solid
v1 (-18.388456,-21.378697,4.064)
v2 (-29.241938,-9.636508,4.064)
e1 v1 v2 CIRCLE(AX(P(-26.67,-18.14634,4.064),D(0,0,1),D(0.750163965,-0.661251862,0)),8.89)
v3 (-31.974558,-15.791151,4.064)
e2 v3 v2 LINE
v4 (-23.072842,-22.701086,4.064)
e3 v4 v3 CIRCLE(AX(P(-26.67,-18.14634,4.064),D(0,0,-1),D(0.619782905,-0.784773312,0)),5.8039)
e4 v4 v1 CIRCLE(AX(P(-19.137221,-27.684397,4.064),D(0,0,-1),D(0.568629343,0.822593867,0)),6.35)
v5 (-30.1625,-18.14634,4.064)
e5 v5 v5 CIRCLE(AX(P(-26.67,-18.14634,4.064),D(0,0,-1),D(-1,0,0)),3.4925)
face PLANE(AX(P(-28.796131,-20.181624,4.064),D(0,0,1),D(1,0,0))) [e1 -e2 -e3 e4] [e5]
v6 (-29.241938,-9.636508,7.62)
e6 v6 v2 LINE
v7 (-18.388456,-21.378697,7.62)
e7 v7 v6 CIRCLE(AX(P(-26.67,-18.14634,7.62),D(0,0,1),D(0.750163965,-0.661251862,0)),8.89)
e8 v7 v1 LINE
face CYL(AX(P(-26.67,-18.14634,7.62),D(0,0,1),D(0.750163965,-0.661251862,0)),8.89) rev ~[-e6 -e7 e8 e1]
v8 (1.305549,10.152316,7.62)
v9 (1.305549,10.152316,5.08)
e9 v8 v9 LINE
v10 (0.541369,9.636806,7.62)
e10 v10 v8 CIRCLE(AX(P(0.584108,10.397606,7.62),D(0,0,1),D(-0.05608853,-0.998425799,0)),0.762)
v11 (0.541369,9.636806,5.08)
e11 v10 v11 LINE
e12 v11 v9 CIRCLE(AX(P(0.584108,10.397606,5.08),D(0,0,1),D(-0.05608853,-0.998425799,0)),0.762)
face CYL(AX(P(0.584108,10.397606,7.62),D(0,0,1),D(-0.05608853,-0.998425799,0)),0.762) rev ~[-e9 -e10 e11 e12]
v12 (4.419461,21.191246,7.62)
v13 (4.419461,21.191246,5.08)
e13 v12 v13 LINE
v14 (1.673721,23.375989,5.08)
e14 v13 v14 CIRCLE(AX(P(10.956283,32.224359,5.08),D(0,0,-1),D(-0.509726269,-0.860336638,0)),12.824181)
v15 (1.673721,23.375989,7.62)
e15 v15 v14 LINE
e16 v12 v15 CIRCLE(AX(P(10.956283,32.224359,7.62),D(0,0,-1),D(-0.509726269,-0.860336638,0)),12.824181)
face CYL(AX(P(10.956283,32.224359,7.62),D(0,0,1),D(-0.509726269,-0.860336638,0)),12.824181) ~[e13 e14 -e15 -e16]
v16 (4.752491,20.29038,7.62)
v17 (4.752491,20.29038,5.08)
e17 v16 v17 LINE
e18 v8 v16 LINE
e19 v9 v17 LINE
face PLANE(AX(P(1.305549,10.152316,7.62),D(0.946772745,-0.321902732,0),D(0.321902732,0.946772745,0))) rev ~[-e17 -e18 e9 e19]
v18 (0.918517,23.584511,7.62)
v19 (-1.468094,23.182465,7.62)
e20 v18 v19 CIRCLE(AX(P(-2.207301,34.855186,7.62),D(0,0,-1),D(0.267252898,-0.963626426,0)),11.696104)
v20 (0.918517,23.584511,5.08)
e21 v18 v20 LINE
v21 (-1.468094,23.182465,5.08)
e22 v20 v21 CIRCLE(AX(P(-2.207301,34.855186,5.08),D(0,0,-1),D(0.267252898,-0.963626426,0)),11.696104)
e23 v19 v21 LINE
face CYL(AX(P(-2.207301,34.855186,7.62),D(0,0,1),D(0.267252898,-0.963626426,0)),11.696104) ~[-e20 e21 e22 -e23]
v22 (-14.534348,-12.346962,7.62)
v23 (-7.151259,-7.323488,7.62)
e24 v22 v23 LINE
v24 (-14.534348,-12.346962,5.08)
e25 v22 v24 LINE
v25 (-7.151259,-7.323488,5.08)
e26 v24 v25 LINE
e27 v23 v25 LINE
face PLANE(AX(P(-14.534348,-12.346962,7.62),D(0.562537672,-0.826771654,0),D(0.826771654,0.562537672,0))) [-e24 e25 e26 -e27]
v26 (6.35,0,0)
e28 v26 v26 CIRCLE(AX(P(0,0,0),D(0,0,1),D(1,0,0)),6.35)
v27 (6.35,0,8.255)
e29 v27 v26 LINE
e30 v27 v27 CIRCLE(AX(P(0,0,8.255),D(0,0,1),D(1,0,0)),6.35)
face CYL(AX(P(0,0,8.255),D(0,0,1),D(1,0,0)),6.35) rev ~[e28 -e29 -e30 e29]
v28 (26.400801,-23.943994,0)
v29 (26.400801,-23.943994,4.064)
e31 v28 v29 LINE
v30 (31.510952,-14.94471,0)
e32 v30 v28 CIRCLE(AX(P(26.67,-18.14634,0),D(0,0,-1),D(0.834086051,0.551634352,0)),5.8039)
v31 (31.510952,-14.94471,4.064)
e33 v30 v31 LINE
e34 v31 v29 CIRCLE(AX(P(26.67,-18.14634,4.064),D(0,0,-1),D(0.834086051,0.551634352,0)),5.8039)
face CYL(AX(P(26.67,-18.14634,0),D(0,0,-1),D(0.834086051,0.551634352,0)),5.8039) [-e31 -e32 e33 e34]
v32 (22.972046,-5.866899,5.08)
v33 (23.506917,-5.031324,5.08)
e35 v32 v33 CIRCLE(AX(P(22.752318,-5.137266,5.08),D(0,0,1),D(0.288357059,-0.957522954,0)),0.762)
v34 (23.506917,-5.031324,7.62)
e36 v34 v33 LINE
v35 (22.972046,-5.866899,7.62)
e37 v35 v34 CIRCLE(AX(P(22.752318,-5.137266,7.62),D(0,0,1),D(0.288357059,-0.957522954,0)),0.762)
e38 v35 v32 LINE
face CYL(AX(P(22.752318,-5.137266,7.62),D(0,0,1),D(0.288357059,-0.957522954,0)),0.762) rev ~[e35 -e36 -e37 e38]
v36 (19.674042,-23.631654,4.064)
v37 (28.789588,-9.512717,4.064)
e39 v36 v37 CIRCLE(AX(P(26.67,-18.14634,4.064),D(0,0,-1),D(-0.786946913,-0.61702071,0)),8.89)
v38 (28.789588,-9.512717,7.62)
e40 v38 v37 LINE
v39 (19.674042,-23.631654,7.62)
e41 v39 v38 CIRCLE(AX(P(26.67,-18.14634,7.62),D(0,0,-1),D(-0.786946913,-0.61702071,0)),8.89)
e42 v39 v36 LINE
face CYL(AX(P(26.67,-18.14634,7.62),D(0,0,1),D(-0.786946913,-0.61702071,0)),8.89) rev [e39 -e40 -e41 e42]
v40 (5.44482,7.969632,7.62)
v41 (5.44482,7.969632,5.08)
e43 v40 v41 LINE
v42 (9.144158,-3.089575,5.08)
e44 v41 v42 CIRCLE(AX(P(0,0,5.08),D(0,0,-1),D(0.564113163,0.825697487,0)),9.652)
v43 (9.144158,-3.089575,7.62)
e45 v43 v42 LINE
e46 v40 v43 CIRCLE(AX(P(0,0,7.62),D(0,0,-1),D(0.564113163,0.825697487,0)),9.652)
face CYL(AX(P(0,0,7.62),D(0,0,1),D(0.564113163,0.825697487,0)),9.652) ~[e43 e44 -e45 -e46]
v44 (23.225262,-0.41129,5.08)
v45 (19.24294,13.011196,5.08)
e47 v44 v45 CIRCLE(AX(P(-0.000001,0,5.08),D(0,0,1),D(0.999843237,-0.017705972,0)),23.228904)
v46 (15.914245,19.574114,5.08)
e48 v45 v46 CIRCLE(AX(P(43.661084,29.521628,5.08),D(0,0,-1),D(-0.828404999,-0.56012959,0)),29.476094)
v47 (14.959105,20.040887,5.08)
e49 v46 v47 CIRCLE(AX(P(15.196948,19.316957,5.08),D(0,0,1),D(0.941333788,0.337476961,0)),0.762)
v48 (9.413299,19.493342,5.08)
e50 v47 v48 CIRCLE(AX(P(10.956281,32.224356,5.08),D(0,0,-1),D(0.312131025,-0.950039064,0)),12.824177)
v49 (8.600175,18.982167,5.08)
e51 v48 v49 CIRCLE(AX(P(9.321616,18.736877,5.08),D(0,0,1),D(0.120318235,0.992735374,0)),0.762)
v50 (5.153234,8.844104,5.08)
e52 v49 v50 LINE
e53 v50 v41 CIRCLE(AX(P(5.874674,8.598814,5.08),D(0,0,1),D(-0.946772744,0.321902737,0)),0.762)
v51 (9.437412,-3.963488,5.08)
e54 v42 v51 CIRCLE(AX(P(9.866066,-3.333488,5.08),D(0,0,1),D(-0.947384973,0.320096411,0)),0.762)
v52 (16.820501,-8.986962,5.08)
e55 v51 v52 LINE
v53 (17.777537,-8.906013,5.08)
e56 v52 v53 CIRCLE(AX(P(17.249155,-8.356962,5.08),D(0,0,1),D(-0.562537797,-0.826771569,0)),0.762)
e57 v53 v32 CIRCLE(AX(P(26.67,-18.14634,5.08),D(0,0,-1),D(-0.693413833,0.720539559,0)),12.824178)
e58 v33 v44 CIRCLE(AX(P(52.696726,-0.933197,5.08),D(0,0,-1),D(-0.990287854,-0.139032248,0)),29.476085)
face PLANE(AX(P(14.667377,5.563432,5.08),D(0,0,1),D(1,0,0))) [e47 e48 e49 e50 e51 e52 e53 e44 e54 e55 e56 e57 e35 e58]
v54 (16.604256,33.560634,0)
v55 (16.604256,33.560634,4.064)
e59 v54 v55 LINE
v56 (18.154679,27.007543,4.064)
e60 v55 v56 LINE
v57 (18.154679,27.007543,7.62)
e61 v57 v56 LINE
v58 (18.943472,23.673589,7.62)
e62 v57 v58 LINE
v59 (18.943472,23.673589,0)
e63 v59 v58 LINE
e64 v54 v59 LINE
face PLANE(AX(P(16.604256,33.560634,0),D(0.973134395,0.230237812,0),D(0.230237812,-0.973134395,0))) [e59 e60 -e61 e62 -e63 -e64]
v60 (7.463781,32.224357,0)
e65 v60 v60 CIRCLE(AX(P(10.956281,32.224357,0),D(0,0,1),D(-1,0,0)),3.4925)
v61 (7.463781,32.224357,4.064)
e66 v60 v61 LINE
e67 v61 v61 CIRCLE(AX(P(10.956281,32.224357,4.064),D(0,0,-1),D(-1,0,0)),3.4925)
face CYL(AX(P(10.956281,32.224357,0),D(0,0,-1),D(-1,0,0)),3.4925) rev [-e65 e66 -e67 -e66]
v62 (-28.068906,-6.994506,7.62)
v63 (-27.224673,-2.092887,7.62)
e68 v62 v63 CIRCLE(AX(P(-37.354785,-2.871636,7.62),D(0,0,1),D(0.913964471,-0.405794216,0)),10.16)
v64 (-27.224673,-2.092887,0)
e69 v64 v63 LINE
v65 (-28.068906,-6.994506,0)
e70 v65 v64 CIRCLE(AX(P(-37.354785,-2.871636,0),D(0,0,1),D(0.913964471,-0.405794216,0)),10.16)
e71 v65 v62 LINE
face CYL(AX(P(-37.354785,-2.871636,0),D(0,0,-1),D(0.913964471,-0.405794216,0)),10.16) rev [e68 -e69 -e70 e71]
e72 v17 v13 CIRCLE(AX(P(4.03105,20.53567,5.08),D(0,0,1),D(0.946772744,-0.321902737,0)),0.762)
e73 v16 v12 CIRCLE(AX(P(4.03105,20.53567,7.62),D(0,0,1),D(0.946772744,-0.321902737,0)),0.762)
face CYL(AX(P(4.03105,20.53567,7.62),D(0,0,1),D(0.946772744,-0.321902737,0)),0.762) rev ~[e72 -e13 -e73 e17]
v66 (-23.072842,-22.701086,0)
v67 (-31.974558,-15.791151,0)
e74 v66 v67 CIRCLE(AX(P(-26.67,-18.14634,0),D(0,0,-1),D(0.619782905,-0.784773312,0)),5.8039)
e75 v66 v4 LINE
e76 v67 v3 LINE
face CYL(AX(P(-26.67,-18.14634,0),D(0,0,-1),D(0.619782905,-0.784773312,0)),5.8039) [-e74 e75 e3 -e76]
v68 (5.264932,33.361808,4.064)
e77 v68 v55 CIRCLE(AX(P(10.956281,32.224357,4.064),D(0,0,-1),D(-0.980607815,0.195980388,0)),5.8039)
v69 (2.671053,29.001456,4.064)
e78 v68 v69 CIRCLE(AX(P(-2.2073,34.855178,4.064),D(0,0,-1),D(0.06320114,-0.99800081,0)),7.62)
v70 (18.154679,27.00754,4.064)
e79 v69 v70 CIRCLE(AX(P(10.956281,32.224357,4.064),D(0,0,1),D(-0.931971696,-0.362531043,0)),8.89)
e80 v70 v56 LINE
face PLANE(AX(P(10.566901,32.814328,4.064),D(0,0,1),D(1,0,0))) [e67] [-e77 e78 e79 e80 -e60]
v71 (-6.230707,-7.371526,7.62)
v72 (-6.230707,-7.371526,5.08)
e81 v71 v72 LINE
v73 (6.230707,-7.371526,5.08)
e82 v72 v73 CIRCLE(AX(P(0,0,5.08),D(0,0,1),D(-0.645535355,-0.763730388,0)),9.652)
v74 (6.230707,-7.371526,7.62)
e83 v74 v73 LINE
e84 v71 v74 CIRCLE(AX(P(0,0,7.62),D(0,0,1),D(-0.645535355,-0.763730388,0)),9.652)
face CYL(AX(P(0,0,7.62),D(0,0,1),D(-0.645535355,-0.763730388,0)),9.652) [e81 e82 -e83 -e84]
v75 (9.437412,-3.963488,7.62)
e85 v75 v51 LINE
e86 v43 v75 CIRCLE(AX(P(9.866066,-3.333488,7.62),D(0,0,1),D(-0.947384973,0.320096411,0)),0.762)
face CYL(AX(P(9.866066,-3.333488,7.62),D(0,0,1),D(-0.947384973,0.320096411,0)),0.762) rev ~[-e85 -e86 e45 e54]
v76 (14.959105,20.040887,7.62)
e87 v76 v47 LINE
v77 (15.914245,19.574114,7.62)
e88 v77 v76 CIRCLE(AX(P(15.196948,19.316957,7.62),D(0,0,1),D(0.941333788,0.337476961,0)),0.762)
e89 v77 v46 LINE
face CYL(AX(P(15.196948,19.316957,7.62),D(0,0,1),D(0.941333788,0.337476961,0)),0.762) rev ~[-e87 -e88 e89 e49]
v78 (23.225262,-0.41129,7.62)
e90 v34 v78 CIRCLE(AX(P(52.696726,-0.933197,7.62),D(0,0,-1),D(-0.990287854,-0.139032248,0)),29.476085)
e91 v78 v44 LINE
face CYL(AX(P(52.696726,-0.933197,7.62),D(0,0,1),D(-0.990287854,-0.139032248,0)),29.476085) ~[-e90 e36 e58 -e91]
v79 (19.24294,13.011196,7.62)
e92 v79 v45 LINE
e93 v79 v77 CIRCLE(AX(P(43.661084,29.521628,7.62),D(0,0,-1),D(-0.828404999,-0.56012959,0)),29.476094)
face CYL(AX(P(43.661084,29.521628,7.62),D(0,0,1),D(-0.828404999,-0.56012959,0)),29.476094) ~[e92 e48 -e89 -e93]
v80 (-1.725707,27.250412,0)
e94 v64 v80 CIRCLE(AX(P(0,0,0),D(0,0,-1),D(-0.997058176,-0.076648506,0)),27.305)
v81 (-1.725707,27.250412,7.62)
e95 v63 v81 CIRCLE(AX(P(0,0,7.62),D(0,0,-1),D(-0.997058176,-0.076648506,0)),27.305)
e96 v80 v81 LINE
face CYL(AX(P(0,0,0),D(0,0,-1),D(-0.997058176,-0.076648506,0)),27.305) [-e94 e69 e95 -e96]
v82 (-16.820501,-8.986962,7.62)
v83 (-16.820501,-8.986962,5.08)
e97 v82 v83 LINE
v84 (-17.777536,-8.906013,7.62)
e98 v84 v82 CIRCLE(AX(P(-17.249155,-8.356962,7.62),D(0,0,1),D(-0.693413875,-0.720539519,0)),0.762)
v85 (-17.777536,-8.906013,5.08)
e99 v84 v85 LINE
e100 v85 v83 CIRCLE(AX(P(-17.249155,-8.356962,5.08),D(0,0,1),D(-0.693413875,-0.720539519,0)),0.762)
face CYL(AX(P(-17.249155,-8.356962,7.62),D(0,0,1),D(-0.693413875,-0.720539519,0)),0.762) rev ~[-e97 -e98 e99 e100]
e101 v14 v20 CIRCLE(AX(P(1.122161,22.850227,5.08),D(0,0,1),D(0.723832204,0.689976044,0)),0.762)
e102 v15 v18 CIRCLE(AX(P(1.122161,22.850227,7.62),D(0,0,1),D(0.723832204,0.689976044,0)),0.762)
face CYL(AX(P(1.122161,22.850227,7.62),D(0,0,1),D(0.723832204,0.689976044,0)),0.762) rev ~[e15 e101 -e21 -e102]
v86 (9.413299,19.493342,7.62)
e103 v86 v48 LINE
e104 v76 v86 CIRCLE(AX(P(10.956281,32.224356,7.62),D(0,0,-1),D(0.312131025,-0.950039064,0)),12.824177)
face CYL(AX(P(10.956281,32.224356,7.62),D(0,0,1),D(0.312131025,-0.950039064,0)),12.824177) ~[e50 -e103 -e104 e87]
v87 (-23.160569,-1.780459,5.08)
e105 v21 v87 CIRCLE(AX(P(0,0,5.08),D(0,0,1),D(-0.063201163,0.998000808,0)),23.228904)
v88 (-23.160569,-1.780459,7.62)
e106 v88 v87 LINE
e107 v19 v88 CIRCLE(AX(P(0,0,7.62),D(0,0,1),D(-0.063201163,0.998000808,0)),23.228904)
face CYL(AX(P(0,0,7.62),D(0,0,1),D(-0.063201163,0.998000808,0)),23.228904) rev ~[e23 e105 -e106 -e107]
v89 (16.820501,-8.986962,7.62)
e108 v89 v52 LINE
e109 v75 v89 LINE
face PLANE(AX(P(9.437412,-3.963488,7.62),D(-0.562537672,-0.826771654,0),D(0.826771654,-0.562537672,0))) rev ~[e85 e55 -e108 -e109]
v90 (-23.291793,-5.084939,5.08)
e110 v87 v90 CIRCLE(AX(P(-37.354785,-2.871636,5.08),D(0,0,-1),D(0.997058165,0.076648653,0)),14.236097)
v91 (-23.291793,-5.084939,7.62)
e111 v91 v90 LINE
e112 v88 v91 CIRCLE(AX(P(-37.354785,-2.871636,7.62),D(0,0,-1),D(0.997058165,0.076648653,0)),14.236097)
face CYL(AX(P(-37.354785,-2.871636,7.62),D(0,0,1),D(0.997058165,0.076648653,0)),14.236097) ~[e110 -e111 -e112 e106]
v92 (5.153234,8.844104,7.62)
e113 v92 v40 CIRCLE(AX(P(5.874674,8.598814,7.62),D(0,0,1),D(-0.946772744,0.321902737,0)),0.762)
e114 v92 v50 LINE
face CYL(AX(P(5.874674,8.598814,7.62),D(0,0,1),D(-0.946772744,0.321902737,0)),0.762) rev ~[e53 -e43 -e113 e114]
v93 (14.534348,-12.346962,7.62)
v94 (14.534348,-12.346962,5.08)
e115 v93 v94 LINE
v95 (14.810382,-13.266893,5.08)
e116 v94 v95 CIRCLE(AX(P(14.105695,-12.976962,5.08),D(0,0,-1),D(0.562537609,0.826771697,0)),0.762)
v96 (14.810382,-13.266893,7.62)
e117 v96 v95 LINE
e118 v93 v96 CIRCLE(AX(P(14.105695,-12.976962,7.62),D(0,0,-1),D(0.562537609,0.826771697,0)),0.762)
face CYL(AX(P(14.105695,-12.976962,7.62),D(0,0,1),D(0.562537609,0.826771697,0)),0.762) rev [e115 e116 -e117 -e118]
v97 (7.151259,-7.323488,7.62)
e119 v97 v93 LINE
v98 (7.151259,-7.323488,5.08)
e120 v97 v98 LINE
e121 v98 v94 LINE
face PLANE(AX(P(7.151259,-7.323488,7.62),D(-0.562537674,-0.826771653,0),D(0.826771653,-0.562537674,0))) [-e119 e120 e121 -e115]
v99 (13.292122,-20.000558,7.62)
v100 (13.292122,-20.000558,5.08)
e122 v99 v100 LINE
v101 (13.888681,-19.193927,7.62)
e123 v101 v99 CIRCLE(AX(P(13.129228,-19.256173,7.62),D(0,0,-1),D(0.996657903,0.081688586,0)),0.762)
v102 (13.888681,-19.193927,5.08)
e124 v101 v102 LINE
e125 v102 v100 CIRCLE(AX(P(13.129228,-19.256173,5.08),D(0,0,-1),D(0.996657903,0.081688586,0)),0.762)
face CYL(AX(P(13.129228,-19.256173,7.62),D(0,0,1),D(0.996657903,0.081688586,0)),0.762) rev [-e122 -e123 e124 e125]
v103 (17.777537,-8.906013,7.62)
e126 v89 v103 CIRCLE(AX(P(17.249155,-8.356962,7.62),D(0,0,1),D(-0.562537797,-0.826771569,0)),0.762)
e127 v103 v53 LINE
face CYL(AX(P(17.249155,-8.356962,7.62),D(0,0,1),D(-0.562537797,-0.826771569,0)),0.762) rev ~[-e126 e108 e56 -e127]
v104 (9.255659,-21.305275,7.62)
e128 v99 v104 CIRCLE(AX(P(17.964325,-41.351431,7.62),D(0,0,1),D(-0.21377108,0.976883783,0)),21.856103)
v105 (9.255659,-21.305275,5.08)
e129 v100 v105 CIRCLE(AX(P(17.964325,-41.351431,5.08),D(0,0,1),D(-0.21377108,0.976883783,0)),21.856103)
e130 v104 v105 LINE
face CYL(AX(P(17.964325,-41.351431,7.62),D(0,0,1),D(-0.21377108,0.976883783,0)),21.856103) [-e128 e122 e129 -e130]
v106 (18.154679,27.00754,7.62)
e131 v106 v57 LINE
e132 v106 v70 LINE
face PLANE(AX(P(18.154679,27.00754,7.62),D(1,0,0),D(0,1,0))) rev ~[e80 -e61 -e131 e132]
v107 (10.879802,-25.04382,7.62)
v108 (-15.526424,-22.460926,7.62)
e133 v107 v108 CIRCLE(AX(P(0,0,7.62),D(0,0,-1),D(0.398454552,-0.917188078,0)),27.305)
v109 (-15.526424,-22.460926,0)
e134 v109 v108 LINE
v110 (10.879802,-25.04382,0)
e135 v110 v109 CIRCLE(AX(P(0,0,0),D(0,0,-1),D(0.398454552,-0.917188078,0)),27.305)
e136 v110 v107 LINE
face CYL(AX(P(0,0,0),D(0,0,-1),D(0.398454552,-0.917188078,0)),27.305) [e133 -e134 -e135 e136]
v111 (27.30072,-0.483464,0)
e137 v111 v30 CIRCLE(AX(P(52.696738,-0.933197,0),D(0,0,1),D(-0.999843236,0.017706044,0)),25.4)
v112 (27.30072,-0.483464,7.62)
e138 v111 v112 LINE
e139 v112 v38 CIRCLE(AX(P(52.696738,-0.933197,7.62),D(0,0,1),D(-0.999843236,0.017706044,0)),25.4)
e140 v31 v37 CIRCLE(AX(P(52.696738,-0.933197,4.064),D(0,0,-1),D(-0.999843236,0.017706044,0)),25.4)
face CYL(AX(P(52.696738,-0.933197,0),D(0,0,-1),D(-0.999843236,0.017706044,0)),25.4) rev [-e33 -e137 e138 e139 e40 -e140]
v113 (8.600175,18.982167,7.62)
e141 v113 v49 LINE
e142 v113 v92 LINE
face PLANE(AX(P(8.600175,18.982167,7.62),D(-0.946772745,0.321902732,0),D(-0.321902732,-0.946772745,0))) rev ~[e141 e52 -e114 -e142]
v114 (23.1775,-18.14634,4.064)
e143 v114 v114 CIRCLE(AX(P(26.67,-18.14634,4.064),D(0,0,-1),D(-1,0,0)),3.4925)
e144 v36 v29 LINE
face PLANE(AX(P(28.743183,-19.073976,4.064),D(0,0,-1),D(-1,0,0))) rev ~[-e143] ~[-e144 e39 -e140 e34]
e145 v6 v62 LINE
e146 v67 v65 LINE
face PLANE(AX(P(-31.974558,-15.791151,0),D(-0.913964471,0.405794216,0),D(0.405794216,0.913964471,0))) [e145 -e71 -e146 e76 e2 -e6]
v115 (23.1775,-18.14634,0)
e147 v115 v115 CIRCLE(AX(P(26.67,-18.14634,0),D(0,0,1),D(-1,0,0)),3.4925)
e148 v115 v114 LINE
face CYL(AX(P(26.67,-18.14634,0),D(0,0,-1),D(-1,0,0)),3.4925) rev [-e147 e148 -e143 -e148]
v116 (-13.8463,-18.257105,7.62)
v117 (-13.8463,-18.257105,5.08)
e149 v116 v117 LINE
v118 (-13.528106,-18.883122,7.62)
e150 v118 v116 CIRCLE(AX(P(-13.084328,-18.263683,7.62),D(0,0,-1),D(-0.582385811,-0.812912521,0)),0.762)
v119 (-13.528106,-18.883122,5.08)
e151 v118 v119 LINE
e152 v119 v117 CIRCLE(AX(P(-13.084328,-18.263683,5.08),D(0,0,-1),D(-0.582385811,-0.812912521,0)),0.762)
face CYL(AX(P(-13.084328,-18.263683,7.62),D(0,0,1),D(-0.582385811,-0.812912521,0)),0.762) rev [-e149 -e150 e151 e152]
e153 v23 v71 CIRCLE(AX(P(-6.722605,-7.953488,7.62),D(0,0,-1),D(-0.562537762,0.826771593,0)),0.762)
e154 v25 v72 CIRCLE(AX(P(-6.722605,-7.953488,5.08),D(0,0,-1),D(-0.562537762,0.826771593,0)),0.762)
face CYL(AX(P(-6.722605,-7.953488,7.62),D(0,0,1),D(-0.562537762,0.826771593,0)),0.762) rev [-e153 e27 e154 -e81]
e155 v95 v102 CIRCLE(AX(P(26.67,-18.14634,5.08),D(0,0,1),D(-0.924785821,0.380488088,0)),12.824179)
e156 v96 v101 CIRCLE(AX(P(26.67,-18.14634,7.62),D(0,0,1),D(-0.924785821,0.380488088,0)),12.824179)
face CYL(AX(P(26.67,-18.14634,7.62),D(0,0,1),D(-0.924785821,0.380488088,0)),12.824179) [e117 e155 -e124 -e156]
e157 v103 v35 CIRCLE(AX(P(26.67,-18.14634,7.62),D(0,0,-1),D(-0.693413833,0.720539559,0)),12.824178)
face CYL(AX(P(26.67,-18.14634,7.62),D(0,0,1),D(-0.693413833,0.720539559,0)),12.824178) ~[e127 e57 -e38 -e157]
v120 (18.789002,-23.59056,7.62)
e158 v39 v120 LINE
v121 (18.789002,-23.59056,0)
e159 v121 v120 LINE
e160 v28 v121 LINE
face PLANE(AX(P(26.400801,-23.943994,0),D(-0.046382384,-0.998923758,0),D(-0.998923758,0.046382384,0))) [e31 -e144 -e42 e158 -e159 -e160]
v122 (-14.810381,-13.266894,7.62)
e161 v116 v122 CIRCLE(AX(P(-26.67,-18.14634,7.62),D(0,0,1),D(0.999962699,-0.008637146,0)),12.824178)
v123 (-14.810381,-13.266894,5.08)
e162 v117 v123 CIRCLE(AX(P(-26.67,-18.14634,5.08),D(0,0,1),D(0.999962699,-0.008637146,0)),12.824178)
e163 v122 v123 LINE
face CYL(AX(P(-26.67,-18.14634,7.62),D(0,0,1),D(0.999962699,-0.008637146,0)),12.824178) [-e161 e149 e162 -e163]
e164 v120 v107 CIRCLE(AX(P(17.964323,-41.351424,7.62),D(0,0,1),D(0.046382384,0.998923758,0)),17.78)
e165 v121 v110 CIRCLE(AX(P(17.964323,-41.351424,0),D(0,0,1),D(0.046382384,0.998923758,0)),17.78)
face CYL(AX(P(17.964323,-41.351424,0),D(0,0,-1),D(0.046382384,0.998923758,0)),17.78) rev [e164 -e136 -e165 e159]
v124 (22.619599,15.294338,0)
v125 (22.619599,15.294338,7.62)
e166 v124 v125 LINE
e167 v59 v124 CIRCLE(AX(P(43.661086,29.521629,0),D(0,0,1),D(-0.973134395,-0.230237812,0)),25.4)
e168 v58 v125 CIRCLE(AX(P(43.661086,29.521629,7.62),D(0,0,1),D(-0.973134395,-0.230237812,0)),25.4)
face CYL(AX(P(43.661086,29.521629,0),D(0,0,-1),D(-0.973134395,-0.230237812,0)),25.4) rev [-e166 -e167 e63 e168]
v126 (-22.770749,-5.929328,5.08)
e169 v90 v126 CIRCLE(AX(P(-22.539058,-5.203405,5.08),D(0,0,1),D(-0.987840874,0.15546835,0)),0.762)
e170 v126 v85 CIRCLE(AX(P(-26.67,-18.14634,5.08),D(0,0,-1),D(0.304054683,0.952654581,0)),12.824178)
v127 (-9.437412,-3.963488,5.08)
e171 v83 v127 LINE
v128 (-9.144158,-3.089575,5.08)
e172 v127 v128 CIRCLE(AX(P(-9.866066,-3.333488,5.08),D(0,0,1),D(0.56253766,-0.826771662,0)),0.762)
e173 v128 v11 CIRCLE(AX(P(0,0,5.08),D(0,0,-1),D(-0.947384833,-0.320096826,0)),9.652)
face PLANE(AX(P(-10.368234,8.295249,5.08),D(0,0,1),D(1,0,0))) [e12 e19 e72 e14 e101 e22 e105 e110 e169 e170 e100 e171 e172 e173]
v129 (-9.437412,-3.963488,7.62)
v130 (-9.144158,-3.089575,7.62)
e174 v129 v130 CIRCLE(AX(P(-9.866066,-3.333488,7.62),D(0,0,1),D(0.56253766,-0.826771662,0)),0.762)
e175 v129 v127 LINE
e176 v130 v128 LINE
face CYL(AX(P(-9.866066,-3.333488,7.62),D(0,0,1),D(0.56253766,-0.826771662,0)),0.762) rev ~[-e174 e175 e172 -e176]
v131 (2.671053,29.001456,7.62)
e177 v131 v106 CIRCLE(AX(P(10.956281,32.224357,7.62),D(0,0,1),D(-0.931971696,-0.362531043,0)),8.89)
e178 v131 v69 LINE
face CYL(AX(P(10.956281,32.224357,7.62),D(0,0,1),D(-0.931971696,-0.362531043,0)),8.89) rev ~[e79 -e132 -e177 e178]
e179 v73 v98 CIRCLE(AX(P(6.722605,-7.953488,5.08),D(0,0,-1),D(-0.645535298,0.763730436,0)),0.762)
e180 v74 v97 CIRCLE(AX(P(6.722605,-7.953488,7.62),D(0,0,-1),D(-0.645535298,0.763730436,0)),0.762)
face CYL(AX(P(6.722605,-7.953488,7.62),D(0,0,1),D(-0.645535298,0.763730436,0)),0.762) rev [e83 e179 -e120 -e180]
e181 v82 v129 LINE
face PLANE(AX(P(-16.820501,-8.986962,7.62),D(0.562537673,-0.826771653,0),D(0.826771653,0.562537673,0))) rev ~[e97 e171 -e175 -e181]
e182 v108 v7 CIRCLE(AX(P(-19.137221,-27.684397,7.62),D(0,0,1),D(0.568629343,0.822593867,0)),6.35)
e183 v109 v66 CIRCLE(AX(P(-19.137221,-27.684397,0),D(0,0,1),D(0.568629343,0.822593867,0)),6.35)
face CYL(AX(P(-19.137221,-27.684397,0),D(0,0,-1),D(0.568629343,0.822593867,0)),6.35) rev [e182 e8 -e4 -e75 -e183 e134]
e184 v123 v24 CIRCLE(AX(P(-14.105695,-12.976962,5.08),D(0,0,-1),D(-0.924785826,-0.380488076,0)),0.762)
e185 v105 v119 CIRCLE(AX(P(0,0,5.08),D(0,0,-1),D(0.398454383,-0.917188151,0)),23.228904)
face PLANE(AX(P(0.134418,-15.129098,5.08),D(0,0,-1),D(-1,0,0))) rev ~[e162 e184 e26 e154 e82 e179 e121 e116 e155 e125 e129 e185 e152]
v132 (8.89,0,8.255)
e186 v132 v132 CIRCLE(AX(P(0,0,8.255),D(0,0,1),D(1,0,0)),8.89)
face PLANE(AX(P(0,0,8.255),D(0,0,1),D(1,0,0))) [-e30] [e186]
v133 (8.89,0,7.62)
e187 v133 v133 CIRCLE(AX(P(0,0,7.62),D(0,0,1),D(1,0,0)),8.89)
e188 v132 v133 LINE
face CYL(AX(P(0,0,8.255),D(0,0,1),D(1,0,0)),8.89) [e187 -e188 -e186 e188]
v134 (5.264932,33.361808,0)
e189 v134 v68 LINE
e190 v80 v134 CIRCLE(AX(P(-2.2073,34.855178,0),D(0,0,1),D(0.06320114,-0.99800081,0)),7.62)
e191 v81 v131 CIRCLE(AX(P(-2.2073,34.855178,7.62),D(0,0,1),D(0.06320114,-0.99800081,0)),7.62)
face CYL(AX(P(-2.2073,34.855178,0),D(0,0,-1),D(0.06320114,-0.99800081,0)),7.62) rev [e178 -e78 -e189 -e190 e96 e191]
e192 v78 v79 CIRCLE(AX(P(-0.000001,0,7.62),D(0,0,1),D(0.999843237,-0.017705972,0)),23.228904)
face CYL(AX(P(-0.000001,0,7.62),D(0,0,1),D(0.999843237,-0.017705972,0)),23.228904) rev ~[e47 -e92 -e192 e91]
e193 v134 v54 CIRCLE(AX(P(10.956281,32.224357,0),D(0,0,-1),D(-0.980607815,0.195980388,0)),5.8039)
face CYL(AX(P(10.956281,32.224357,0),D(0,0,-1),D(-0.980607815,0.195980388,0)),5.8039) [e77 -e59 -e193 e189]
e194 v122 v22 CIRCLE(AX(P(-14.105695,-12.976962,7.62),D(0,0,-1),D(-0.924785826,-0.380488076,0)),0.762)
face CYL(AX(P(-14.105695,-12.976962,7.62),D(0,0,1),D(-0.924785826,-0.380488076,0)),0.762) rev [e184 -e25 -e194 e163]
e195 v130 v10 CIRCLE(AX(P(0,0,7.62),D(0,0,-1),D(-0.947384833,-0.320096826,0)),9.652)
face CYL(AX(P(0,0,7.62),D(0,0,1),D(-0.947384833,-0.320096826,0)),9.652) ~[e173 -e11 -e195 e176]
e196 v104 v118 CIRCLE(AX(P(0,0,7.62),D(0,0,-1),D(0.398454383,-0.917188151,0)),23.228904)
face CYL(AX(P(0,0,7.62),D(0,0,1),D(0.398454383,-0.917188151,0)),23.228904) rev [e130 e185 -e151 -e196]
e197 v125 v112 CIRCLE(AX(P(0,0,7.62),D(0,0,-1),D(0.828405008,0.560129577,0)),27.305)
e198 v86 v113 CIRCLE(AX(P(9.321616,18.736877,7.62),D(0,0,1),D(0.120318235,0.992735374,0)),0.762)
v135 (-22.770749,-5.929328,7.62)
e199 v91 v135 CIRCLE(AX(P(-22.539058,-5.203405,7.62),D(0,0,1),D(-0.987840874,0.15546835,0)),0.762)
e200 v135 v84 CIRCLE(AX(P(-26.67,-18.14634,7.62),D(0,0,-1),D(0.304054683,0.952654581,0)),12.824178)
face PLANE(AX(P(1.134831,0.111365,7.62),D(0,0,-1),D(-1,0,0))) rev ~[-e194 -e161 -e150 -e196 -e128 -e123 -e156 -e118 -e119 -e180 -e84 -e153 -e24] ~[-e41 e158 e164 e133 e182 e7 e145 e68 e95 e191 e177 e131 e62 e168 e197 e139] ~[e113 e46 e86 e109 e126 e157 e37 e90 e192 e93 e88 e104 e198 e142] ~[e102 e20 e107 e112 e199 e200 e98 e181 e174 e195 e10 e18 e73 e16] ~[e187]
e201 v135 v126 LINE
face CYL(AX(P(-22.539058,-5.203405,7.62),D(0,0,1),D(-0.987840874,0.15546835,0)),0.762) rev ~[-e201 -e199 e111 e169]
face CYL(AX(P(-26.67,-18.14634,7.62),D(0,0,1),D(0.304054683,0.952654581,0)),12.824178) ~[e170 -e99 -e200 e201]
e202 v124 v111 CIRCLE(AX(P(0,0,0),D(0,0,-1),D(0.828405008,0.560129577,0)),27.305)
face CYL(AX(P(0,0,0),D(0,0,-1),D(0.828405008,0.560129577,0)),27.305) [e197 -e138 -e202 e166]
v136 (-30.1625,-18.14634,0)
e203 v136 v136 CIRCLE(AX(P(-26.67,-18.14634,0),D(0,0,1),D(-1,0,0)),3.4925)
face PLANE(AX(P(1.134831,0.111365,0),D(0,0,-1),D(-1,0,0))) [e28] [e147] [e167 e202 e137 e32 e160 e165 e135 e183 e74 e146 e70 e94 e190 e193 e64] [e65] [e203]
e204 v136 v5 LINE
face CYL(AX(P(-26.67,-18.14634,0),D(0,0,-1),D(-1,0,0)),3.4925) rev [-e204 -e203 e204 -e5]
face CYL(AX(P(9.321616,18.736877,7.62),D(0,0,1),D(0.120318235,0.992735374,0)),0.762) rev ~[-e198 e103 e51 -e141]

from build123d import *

# Parameters (mm, degrees)
SKETCH1_R           = 3.4925
BASE_DEPTH          = 7.62
BOSS_EXTRUDE1_REACH = 52.684
SKETCH2_R           = 8.89
RIBS_DEPTH          = 2.54
EAR_1_DEPTH         = 3.556
EAR_2_DEPTH         = 3.556
EAR_3_DEPTH         = 3.556
SKETCH7_R           = 6.35
CUT_EXTRUDE5_DEPTH  = 51.683799656


with BuildPart() as part:
    # Sketch1 → Base (new body)
    with BuildSketch(Plane.XY):
        with BuildLine():
            Line((16.604256141, 33.560634381), (18.943472312, 23.673588932))
            ThreePointArc((18.943472312, 23.673588932), (20.401103388, 19.31706117), (22.619598737, 15.294338102))
            ThreePointArc((22.619598737, 15.294338102), (26.177171365, 7.766513011), (27.300719551, -0.483463539))
            ThreePointArc((27.300719551, -0.483463539), (28.309281475, -8.033336288), (31.510952034, -14.944709618))
            ThreePointArc((31.510952034, -14.944709618), (31.716980405, -21.01221602), (26.400801283, -23.943993837))
            Line((26.400801283, -23.943993837), (18.789002246, -23.590560073))
            ThreePointArc((18.789002246, -23.590560073), (14.751162948, -23.864172006), (10.879801534, -25.043820467))
            ThreePointArc((10.879801534, -25.043820467), (-2.658121922, -27.175308882), (-15.526424221, -22.460925535))
            ThreePointArc((-15.526424221, -22.460925535), (-19.339203493, -21.337609774), (-23.072841998, -22.701086061))
            ThreePointArc((-23.072841998, -22.701086061), (-30.228876792, -22.731059551), (-31.974558392, -15.791151184))
            Line((-31.974558392, -15.791151184), (-28.068905544, -6.994505511))
            ThreePointArc((-28.068905544, -6.994505511), (-27.342210837, -4.596155707), (-27.224673499, -2.092887453))
            ThreePointArc((-27.224673499, -2.092887453), (-20.610396453, 17.910180989), (-1.725707135, 27.250412105))
            ThreePointArc((-1.725707135, 27.250412105), (2.807988712, 29.118342831), (5.264931729, 33.361807717))
            ThreePointArc((5.264931729, 33.361807717), (10.854529977, 38.027365143), (16.604256141, 33.560634381))
        make_face()
        with Locations(Location((10.956281429, 32.224357143, 0), (0, 0, 180))):
            Circle(SKETCH1_R, mode=Mode.SUBTRACT)
        with Locations(Location((-26.67, -18.146340237, 0), (0, 0, 180))):
            Circle(SKETCH1_R, mode=Mode.SUBTRACT)
        with Locations(Location((26.67, -18.146340237, 0), (0, 0, 180))):
            Circle(SKETCH1_R, mode=Mode.SUBTRACT)
    extrude(amount=BASE_DEPTH)

    # Sketch2 → Boss-Extrude1 (add, up to next)
    with BuildSketch(Plane.XY.offset(8.255), mode=Mode.PRIVATE) as boss_extrude1_sk1:
        Circle(SKETCH2_R)
    boss_extrude1_tool1 = extrude(boss_extrude1_sk1.sketch, amount=-BOSS_EXTRUDE1_REACH, mode=Mode.PRIVATE) - part.part
    add(boss_extrude1_tool1.solids().sort_by_distance((0, 0, 8.255))[0])

    # Sketch3 → Ribs (cut)
    with BuildSketch(Plane.XY.offset(7.62)):
        with BuildLine():
            Line((-16.82050136, -8.986962316), (-9.437411961, -3.963488288))
            ThreePointArc((-9.437411961, -3.963488288), (-9.143653766, -3.575903337), (-9.144158406, -3.089574522))
            ThreePointArc((-9.144158406, -3.089574522), (-7.680637059, 5.845418599), (0.541368836, 9.636805696))
            ThreePointArc((0.541368836, 9.636805696), (1.010249912, 9.765904218), (1.305549154, 10.152316246))
            Line((1.305549154, 10.152316246), (4.752490825, 20.290380019))
            ThreePointArc((4.752490825, 20.290380019), (4.745775858, 20.799887499), (4.419461373, 21.191246438))
            ThreePointArc((4.419461373, 21.191246438), (2.971516318, 22.189265061), (1.673721066, 23.375988923))
            ThreePointArc((1.673721066, 23.375988923), (1.324970657, 23.584742075), (0.91851691, 23.584511061))
            ThreePointArc((0.91851691, 23.584511061), (-0.264361157, 23.321590055), (-1.468093727, 23.182464697))
            ThreePointArc((-1.468093727, 23.182464697), (-17.533671501, 15.236545944), (-23.160568555, -1.780458597))
            ThreePointArc((-23.160568555, -1.780458597), (-23.129900004, -3.436522013), (-23.291793081, -5.084938595))
            ThreePointArc((-23.291793081, -5.084938595), (-23.187534661, -5.603558506), (-22.770748598, -5.929328057))
            ThreePointArc((-22.770748598, -5.929328057), (-20.103253711, -7.131014955), (-17.77753644, -8.906013418))
            ThreePointArc((-17.77753644, -8.906013418), (-17.313377981, -9.116251065), (-16.82050136, -8.986962316))
        make_face()
        with BuildLine():
            Line((8.600175256, 18.982167319), (5.153233585, 8.844103546))
            ThreePointArc((5.153233585, 8.844103546), (5.151801602, 8.357776542), (5.444820248, 7.969632141))
            ThreePointArc((5.444820248, 7.969632141), (9.153474124, 3.061864703), (9.144158328, -3.089574805))
            ThreePointArc((9.144158328, -3.089574805), (9.143653829, -3.575903471), (9.437411961, -3.963488288))
            Line((9.437411961, -3.963488288), (16.820501249, -8.986962233))
            ThreePointArc((16.820501249, -8.986962233), (17.313378574, -9.116251013), (17.77753741, -8.906012507))
            ThreePointArc((17.77753741, -8.906012507), (20.193990454, -7.077426658), (22.972046166, -5.866898682))
            ThreePointArc((22.972046166, -5.866898682), (23.394092887, -5.548081357), (23.506917421, -5.031323638))
            ThreePointArc((23.506917421, -5.031323638), (23.275264524, -2.726844111), (23.225262219, -0.411290455))
            ThreePointArc((23.225262219, -0.411290455), (22.269437317, 6.607126953), (19.242940228, 13.011195948))
            ThreePointArc((19.242940228, 13.011195948), (17.372981423, 16.188369668), (15.914244764, 19.574114216))
            ThreePointArc((15.914244764, 19.574114216), (15.531519696, 20.001577905), (14.959105055, 20.040886782))
            ThreePointArc((14.959105055, 20.040886782), (12.216303466, 19.462229871), (9.413298568, 19.493341792))
            ThreePointArc((9.413298568, 19.493341792), (8.916062473, 19.381990041), (8.600175256, 18.982167319))
        make_face()
        with BuildLine():
            Line((7.151258875, -7.323488274), (14.534348232, -12.346962288))
            ThreePointArc((14.534348232, -12.346962288), (14.835546333, -12.757963676), (14.810381819, -13.26689313))
            ThreePointArc((14.810381819, -13.26689313), (13.998126604, -16.175763644), (13.888681178, -19.193926648))
            ThreePointArc((13.888681178, -19.193926648), (13.741882081, -19.709272424), (13.292122475, -20.00055849))
            ThreePointArc((13.292122475, -20.00055849), (11.242161258, -20.554754651), (9.255658504, -21.305275269))
            ThreePointArc((9.255658504, -21.305275269), (-2.455638263, -23.098740428), (-13.528106469, -18.883122199))
            ThreePointArc((-13.528106469, -18.883122199), (-13.763616748, -18.608952972), (-13.846300089, -18.257104539))
            ThreePointArc((-13.846300089, -18.257104539), (-14.078649652, -15.713760427), (-14.81038135, -13.266894204))
            ThreePointArc((-14.81038135, -13.266894204), (-14.83554649, -12.757964252), (-14.534348249, -12.346962301))
            Line((-14.534348249, -12.346962301), (-7.15125892, -7.323488332))
            ThreePointArc((-7.15125892, -7.323488332), (-6.682895541, -7.19252367), (-6.230707232, -7.37152571))
            ThreePointArc((-6.230707232, -7.37152571), (1.2e-08, -9.651999996), (6.230707236, -7.371525677))
            ThreePointArc((6.230707236, -7.371525677), (6.682895517, -7.192523649), (7.151258875, -7.323488274))
        make_face()
    extrude(amount=-RIBS_DEPTH, mode=Mode.SUBTRACT)

    # Sketch4 → Ear 1 (cut)
    with BuildSketch(Plane.XY.offset(7.62)):
        with BuildLine():
            Line((18.154678619, 27.007540298), (18.154678619, 40.040057117))
            Line((18.154678619, 40.040057117), (2.671053035, 40.040057117))
            Line((2.671053035, 40.040057117), (2.671053035, 29.001456211))
            ThreePointArc((2.671053035, 29.001456211), (9.820840691, 23.407165193), (18.154678619, 27.007540298))
        make_face()
    extrude(amount=-EAR_1_DEPTH, mode=Mode.SUBTRACT)

    # Sketch5 → Ear 2 (cut)
    with BuildSketch(Plane.XY.offset(7.62)):
        with BuildLine():
            Line((37.540663752, -9.512717098), (37.540663752, -27.850835624))
            Line((37.540663752, -27.850835624), (19.674041943, -27.850835624))
            Line((19.674041943, -27.850835624), (19.674041943, -23.631654346))
            ThreePointArc((19.674041943, -23.631654346), (19.201342522, -13.324384672), (28.789587575, -9.512717098))
            Line((28.789587575, -9.512717098), (37.540663752, -9.512717098))
        make_face()
    extrude(amount=-EAR_2_DEPTH, mode=Mode.SUBTRACT)

    # Sketch6 → Ear 3 (cut)
    with BuildSketch(Plane.XY.offset(7.62)):
        with BuildLine():
            Line((-29.241937643, -9.636508467), (-37.354784568, -9.636508467))
            Line((-37.354784568, -9.636508467), (-37.354784568, -30.196246958))
            Line((-37.354784568, -30.196246958), (-20.617156227, -30.196246958))
            Line((-20.617156227, -30.196246958), (-20.617156227, -25.655566183))
            ThreePointArc((-20.617156227, -25.655566183), (-20.457991369, -24.783962969), (-20.001042351, -24.024869295))
            ThreePointArc((-20.001042351, -24.024869295), (-19.189851268, -13.342230024), (-29.241937643, -9.636508467))
        make_face()
    extrude(amount=-EAR_3_DEPTH, mode=Mode.SUBTRACT)

    # Sketch7 → Cut-Extrude5 (cut, through all)
    with BuildSketch(Plane.XY.offset(8.255)):
        Circle(SKETCH7_R)
    extrude(amount=-CUT_EXTRUDE5_DEPTH, mode=Mode.SUBTRACT)


solid = part.part
